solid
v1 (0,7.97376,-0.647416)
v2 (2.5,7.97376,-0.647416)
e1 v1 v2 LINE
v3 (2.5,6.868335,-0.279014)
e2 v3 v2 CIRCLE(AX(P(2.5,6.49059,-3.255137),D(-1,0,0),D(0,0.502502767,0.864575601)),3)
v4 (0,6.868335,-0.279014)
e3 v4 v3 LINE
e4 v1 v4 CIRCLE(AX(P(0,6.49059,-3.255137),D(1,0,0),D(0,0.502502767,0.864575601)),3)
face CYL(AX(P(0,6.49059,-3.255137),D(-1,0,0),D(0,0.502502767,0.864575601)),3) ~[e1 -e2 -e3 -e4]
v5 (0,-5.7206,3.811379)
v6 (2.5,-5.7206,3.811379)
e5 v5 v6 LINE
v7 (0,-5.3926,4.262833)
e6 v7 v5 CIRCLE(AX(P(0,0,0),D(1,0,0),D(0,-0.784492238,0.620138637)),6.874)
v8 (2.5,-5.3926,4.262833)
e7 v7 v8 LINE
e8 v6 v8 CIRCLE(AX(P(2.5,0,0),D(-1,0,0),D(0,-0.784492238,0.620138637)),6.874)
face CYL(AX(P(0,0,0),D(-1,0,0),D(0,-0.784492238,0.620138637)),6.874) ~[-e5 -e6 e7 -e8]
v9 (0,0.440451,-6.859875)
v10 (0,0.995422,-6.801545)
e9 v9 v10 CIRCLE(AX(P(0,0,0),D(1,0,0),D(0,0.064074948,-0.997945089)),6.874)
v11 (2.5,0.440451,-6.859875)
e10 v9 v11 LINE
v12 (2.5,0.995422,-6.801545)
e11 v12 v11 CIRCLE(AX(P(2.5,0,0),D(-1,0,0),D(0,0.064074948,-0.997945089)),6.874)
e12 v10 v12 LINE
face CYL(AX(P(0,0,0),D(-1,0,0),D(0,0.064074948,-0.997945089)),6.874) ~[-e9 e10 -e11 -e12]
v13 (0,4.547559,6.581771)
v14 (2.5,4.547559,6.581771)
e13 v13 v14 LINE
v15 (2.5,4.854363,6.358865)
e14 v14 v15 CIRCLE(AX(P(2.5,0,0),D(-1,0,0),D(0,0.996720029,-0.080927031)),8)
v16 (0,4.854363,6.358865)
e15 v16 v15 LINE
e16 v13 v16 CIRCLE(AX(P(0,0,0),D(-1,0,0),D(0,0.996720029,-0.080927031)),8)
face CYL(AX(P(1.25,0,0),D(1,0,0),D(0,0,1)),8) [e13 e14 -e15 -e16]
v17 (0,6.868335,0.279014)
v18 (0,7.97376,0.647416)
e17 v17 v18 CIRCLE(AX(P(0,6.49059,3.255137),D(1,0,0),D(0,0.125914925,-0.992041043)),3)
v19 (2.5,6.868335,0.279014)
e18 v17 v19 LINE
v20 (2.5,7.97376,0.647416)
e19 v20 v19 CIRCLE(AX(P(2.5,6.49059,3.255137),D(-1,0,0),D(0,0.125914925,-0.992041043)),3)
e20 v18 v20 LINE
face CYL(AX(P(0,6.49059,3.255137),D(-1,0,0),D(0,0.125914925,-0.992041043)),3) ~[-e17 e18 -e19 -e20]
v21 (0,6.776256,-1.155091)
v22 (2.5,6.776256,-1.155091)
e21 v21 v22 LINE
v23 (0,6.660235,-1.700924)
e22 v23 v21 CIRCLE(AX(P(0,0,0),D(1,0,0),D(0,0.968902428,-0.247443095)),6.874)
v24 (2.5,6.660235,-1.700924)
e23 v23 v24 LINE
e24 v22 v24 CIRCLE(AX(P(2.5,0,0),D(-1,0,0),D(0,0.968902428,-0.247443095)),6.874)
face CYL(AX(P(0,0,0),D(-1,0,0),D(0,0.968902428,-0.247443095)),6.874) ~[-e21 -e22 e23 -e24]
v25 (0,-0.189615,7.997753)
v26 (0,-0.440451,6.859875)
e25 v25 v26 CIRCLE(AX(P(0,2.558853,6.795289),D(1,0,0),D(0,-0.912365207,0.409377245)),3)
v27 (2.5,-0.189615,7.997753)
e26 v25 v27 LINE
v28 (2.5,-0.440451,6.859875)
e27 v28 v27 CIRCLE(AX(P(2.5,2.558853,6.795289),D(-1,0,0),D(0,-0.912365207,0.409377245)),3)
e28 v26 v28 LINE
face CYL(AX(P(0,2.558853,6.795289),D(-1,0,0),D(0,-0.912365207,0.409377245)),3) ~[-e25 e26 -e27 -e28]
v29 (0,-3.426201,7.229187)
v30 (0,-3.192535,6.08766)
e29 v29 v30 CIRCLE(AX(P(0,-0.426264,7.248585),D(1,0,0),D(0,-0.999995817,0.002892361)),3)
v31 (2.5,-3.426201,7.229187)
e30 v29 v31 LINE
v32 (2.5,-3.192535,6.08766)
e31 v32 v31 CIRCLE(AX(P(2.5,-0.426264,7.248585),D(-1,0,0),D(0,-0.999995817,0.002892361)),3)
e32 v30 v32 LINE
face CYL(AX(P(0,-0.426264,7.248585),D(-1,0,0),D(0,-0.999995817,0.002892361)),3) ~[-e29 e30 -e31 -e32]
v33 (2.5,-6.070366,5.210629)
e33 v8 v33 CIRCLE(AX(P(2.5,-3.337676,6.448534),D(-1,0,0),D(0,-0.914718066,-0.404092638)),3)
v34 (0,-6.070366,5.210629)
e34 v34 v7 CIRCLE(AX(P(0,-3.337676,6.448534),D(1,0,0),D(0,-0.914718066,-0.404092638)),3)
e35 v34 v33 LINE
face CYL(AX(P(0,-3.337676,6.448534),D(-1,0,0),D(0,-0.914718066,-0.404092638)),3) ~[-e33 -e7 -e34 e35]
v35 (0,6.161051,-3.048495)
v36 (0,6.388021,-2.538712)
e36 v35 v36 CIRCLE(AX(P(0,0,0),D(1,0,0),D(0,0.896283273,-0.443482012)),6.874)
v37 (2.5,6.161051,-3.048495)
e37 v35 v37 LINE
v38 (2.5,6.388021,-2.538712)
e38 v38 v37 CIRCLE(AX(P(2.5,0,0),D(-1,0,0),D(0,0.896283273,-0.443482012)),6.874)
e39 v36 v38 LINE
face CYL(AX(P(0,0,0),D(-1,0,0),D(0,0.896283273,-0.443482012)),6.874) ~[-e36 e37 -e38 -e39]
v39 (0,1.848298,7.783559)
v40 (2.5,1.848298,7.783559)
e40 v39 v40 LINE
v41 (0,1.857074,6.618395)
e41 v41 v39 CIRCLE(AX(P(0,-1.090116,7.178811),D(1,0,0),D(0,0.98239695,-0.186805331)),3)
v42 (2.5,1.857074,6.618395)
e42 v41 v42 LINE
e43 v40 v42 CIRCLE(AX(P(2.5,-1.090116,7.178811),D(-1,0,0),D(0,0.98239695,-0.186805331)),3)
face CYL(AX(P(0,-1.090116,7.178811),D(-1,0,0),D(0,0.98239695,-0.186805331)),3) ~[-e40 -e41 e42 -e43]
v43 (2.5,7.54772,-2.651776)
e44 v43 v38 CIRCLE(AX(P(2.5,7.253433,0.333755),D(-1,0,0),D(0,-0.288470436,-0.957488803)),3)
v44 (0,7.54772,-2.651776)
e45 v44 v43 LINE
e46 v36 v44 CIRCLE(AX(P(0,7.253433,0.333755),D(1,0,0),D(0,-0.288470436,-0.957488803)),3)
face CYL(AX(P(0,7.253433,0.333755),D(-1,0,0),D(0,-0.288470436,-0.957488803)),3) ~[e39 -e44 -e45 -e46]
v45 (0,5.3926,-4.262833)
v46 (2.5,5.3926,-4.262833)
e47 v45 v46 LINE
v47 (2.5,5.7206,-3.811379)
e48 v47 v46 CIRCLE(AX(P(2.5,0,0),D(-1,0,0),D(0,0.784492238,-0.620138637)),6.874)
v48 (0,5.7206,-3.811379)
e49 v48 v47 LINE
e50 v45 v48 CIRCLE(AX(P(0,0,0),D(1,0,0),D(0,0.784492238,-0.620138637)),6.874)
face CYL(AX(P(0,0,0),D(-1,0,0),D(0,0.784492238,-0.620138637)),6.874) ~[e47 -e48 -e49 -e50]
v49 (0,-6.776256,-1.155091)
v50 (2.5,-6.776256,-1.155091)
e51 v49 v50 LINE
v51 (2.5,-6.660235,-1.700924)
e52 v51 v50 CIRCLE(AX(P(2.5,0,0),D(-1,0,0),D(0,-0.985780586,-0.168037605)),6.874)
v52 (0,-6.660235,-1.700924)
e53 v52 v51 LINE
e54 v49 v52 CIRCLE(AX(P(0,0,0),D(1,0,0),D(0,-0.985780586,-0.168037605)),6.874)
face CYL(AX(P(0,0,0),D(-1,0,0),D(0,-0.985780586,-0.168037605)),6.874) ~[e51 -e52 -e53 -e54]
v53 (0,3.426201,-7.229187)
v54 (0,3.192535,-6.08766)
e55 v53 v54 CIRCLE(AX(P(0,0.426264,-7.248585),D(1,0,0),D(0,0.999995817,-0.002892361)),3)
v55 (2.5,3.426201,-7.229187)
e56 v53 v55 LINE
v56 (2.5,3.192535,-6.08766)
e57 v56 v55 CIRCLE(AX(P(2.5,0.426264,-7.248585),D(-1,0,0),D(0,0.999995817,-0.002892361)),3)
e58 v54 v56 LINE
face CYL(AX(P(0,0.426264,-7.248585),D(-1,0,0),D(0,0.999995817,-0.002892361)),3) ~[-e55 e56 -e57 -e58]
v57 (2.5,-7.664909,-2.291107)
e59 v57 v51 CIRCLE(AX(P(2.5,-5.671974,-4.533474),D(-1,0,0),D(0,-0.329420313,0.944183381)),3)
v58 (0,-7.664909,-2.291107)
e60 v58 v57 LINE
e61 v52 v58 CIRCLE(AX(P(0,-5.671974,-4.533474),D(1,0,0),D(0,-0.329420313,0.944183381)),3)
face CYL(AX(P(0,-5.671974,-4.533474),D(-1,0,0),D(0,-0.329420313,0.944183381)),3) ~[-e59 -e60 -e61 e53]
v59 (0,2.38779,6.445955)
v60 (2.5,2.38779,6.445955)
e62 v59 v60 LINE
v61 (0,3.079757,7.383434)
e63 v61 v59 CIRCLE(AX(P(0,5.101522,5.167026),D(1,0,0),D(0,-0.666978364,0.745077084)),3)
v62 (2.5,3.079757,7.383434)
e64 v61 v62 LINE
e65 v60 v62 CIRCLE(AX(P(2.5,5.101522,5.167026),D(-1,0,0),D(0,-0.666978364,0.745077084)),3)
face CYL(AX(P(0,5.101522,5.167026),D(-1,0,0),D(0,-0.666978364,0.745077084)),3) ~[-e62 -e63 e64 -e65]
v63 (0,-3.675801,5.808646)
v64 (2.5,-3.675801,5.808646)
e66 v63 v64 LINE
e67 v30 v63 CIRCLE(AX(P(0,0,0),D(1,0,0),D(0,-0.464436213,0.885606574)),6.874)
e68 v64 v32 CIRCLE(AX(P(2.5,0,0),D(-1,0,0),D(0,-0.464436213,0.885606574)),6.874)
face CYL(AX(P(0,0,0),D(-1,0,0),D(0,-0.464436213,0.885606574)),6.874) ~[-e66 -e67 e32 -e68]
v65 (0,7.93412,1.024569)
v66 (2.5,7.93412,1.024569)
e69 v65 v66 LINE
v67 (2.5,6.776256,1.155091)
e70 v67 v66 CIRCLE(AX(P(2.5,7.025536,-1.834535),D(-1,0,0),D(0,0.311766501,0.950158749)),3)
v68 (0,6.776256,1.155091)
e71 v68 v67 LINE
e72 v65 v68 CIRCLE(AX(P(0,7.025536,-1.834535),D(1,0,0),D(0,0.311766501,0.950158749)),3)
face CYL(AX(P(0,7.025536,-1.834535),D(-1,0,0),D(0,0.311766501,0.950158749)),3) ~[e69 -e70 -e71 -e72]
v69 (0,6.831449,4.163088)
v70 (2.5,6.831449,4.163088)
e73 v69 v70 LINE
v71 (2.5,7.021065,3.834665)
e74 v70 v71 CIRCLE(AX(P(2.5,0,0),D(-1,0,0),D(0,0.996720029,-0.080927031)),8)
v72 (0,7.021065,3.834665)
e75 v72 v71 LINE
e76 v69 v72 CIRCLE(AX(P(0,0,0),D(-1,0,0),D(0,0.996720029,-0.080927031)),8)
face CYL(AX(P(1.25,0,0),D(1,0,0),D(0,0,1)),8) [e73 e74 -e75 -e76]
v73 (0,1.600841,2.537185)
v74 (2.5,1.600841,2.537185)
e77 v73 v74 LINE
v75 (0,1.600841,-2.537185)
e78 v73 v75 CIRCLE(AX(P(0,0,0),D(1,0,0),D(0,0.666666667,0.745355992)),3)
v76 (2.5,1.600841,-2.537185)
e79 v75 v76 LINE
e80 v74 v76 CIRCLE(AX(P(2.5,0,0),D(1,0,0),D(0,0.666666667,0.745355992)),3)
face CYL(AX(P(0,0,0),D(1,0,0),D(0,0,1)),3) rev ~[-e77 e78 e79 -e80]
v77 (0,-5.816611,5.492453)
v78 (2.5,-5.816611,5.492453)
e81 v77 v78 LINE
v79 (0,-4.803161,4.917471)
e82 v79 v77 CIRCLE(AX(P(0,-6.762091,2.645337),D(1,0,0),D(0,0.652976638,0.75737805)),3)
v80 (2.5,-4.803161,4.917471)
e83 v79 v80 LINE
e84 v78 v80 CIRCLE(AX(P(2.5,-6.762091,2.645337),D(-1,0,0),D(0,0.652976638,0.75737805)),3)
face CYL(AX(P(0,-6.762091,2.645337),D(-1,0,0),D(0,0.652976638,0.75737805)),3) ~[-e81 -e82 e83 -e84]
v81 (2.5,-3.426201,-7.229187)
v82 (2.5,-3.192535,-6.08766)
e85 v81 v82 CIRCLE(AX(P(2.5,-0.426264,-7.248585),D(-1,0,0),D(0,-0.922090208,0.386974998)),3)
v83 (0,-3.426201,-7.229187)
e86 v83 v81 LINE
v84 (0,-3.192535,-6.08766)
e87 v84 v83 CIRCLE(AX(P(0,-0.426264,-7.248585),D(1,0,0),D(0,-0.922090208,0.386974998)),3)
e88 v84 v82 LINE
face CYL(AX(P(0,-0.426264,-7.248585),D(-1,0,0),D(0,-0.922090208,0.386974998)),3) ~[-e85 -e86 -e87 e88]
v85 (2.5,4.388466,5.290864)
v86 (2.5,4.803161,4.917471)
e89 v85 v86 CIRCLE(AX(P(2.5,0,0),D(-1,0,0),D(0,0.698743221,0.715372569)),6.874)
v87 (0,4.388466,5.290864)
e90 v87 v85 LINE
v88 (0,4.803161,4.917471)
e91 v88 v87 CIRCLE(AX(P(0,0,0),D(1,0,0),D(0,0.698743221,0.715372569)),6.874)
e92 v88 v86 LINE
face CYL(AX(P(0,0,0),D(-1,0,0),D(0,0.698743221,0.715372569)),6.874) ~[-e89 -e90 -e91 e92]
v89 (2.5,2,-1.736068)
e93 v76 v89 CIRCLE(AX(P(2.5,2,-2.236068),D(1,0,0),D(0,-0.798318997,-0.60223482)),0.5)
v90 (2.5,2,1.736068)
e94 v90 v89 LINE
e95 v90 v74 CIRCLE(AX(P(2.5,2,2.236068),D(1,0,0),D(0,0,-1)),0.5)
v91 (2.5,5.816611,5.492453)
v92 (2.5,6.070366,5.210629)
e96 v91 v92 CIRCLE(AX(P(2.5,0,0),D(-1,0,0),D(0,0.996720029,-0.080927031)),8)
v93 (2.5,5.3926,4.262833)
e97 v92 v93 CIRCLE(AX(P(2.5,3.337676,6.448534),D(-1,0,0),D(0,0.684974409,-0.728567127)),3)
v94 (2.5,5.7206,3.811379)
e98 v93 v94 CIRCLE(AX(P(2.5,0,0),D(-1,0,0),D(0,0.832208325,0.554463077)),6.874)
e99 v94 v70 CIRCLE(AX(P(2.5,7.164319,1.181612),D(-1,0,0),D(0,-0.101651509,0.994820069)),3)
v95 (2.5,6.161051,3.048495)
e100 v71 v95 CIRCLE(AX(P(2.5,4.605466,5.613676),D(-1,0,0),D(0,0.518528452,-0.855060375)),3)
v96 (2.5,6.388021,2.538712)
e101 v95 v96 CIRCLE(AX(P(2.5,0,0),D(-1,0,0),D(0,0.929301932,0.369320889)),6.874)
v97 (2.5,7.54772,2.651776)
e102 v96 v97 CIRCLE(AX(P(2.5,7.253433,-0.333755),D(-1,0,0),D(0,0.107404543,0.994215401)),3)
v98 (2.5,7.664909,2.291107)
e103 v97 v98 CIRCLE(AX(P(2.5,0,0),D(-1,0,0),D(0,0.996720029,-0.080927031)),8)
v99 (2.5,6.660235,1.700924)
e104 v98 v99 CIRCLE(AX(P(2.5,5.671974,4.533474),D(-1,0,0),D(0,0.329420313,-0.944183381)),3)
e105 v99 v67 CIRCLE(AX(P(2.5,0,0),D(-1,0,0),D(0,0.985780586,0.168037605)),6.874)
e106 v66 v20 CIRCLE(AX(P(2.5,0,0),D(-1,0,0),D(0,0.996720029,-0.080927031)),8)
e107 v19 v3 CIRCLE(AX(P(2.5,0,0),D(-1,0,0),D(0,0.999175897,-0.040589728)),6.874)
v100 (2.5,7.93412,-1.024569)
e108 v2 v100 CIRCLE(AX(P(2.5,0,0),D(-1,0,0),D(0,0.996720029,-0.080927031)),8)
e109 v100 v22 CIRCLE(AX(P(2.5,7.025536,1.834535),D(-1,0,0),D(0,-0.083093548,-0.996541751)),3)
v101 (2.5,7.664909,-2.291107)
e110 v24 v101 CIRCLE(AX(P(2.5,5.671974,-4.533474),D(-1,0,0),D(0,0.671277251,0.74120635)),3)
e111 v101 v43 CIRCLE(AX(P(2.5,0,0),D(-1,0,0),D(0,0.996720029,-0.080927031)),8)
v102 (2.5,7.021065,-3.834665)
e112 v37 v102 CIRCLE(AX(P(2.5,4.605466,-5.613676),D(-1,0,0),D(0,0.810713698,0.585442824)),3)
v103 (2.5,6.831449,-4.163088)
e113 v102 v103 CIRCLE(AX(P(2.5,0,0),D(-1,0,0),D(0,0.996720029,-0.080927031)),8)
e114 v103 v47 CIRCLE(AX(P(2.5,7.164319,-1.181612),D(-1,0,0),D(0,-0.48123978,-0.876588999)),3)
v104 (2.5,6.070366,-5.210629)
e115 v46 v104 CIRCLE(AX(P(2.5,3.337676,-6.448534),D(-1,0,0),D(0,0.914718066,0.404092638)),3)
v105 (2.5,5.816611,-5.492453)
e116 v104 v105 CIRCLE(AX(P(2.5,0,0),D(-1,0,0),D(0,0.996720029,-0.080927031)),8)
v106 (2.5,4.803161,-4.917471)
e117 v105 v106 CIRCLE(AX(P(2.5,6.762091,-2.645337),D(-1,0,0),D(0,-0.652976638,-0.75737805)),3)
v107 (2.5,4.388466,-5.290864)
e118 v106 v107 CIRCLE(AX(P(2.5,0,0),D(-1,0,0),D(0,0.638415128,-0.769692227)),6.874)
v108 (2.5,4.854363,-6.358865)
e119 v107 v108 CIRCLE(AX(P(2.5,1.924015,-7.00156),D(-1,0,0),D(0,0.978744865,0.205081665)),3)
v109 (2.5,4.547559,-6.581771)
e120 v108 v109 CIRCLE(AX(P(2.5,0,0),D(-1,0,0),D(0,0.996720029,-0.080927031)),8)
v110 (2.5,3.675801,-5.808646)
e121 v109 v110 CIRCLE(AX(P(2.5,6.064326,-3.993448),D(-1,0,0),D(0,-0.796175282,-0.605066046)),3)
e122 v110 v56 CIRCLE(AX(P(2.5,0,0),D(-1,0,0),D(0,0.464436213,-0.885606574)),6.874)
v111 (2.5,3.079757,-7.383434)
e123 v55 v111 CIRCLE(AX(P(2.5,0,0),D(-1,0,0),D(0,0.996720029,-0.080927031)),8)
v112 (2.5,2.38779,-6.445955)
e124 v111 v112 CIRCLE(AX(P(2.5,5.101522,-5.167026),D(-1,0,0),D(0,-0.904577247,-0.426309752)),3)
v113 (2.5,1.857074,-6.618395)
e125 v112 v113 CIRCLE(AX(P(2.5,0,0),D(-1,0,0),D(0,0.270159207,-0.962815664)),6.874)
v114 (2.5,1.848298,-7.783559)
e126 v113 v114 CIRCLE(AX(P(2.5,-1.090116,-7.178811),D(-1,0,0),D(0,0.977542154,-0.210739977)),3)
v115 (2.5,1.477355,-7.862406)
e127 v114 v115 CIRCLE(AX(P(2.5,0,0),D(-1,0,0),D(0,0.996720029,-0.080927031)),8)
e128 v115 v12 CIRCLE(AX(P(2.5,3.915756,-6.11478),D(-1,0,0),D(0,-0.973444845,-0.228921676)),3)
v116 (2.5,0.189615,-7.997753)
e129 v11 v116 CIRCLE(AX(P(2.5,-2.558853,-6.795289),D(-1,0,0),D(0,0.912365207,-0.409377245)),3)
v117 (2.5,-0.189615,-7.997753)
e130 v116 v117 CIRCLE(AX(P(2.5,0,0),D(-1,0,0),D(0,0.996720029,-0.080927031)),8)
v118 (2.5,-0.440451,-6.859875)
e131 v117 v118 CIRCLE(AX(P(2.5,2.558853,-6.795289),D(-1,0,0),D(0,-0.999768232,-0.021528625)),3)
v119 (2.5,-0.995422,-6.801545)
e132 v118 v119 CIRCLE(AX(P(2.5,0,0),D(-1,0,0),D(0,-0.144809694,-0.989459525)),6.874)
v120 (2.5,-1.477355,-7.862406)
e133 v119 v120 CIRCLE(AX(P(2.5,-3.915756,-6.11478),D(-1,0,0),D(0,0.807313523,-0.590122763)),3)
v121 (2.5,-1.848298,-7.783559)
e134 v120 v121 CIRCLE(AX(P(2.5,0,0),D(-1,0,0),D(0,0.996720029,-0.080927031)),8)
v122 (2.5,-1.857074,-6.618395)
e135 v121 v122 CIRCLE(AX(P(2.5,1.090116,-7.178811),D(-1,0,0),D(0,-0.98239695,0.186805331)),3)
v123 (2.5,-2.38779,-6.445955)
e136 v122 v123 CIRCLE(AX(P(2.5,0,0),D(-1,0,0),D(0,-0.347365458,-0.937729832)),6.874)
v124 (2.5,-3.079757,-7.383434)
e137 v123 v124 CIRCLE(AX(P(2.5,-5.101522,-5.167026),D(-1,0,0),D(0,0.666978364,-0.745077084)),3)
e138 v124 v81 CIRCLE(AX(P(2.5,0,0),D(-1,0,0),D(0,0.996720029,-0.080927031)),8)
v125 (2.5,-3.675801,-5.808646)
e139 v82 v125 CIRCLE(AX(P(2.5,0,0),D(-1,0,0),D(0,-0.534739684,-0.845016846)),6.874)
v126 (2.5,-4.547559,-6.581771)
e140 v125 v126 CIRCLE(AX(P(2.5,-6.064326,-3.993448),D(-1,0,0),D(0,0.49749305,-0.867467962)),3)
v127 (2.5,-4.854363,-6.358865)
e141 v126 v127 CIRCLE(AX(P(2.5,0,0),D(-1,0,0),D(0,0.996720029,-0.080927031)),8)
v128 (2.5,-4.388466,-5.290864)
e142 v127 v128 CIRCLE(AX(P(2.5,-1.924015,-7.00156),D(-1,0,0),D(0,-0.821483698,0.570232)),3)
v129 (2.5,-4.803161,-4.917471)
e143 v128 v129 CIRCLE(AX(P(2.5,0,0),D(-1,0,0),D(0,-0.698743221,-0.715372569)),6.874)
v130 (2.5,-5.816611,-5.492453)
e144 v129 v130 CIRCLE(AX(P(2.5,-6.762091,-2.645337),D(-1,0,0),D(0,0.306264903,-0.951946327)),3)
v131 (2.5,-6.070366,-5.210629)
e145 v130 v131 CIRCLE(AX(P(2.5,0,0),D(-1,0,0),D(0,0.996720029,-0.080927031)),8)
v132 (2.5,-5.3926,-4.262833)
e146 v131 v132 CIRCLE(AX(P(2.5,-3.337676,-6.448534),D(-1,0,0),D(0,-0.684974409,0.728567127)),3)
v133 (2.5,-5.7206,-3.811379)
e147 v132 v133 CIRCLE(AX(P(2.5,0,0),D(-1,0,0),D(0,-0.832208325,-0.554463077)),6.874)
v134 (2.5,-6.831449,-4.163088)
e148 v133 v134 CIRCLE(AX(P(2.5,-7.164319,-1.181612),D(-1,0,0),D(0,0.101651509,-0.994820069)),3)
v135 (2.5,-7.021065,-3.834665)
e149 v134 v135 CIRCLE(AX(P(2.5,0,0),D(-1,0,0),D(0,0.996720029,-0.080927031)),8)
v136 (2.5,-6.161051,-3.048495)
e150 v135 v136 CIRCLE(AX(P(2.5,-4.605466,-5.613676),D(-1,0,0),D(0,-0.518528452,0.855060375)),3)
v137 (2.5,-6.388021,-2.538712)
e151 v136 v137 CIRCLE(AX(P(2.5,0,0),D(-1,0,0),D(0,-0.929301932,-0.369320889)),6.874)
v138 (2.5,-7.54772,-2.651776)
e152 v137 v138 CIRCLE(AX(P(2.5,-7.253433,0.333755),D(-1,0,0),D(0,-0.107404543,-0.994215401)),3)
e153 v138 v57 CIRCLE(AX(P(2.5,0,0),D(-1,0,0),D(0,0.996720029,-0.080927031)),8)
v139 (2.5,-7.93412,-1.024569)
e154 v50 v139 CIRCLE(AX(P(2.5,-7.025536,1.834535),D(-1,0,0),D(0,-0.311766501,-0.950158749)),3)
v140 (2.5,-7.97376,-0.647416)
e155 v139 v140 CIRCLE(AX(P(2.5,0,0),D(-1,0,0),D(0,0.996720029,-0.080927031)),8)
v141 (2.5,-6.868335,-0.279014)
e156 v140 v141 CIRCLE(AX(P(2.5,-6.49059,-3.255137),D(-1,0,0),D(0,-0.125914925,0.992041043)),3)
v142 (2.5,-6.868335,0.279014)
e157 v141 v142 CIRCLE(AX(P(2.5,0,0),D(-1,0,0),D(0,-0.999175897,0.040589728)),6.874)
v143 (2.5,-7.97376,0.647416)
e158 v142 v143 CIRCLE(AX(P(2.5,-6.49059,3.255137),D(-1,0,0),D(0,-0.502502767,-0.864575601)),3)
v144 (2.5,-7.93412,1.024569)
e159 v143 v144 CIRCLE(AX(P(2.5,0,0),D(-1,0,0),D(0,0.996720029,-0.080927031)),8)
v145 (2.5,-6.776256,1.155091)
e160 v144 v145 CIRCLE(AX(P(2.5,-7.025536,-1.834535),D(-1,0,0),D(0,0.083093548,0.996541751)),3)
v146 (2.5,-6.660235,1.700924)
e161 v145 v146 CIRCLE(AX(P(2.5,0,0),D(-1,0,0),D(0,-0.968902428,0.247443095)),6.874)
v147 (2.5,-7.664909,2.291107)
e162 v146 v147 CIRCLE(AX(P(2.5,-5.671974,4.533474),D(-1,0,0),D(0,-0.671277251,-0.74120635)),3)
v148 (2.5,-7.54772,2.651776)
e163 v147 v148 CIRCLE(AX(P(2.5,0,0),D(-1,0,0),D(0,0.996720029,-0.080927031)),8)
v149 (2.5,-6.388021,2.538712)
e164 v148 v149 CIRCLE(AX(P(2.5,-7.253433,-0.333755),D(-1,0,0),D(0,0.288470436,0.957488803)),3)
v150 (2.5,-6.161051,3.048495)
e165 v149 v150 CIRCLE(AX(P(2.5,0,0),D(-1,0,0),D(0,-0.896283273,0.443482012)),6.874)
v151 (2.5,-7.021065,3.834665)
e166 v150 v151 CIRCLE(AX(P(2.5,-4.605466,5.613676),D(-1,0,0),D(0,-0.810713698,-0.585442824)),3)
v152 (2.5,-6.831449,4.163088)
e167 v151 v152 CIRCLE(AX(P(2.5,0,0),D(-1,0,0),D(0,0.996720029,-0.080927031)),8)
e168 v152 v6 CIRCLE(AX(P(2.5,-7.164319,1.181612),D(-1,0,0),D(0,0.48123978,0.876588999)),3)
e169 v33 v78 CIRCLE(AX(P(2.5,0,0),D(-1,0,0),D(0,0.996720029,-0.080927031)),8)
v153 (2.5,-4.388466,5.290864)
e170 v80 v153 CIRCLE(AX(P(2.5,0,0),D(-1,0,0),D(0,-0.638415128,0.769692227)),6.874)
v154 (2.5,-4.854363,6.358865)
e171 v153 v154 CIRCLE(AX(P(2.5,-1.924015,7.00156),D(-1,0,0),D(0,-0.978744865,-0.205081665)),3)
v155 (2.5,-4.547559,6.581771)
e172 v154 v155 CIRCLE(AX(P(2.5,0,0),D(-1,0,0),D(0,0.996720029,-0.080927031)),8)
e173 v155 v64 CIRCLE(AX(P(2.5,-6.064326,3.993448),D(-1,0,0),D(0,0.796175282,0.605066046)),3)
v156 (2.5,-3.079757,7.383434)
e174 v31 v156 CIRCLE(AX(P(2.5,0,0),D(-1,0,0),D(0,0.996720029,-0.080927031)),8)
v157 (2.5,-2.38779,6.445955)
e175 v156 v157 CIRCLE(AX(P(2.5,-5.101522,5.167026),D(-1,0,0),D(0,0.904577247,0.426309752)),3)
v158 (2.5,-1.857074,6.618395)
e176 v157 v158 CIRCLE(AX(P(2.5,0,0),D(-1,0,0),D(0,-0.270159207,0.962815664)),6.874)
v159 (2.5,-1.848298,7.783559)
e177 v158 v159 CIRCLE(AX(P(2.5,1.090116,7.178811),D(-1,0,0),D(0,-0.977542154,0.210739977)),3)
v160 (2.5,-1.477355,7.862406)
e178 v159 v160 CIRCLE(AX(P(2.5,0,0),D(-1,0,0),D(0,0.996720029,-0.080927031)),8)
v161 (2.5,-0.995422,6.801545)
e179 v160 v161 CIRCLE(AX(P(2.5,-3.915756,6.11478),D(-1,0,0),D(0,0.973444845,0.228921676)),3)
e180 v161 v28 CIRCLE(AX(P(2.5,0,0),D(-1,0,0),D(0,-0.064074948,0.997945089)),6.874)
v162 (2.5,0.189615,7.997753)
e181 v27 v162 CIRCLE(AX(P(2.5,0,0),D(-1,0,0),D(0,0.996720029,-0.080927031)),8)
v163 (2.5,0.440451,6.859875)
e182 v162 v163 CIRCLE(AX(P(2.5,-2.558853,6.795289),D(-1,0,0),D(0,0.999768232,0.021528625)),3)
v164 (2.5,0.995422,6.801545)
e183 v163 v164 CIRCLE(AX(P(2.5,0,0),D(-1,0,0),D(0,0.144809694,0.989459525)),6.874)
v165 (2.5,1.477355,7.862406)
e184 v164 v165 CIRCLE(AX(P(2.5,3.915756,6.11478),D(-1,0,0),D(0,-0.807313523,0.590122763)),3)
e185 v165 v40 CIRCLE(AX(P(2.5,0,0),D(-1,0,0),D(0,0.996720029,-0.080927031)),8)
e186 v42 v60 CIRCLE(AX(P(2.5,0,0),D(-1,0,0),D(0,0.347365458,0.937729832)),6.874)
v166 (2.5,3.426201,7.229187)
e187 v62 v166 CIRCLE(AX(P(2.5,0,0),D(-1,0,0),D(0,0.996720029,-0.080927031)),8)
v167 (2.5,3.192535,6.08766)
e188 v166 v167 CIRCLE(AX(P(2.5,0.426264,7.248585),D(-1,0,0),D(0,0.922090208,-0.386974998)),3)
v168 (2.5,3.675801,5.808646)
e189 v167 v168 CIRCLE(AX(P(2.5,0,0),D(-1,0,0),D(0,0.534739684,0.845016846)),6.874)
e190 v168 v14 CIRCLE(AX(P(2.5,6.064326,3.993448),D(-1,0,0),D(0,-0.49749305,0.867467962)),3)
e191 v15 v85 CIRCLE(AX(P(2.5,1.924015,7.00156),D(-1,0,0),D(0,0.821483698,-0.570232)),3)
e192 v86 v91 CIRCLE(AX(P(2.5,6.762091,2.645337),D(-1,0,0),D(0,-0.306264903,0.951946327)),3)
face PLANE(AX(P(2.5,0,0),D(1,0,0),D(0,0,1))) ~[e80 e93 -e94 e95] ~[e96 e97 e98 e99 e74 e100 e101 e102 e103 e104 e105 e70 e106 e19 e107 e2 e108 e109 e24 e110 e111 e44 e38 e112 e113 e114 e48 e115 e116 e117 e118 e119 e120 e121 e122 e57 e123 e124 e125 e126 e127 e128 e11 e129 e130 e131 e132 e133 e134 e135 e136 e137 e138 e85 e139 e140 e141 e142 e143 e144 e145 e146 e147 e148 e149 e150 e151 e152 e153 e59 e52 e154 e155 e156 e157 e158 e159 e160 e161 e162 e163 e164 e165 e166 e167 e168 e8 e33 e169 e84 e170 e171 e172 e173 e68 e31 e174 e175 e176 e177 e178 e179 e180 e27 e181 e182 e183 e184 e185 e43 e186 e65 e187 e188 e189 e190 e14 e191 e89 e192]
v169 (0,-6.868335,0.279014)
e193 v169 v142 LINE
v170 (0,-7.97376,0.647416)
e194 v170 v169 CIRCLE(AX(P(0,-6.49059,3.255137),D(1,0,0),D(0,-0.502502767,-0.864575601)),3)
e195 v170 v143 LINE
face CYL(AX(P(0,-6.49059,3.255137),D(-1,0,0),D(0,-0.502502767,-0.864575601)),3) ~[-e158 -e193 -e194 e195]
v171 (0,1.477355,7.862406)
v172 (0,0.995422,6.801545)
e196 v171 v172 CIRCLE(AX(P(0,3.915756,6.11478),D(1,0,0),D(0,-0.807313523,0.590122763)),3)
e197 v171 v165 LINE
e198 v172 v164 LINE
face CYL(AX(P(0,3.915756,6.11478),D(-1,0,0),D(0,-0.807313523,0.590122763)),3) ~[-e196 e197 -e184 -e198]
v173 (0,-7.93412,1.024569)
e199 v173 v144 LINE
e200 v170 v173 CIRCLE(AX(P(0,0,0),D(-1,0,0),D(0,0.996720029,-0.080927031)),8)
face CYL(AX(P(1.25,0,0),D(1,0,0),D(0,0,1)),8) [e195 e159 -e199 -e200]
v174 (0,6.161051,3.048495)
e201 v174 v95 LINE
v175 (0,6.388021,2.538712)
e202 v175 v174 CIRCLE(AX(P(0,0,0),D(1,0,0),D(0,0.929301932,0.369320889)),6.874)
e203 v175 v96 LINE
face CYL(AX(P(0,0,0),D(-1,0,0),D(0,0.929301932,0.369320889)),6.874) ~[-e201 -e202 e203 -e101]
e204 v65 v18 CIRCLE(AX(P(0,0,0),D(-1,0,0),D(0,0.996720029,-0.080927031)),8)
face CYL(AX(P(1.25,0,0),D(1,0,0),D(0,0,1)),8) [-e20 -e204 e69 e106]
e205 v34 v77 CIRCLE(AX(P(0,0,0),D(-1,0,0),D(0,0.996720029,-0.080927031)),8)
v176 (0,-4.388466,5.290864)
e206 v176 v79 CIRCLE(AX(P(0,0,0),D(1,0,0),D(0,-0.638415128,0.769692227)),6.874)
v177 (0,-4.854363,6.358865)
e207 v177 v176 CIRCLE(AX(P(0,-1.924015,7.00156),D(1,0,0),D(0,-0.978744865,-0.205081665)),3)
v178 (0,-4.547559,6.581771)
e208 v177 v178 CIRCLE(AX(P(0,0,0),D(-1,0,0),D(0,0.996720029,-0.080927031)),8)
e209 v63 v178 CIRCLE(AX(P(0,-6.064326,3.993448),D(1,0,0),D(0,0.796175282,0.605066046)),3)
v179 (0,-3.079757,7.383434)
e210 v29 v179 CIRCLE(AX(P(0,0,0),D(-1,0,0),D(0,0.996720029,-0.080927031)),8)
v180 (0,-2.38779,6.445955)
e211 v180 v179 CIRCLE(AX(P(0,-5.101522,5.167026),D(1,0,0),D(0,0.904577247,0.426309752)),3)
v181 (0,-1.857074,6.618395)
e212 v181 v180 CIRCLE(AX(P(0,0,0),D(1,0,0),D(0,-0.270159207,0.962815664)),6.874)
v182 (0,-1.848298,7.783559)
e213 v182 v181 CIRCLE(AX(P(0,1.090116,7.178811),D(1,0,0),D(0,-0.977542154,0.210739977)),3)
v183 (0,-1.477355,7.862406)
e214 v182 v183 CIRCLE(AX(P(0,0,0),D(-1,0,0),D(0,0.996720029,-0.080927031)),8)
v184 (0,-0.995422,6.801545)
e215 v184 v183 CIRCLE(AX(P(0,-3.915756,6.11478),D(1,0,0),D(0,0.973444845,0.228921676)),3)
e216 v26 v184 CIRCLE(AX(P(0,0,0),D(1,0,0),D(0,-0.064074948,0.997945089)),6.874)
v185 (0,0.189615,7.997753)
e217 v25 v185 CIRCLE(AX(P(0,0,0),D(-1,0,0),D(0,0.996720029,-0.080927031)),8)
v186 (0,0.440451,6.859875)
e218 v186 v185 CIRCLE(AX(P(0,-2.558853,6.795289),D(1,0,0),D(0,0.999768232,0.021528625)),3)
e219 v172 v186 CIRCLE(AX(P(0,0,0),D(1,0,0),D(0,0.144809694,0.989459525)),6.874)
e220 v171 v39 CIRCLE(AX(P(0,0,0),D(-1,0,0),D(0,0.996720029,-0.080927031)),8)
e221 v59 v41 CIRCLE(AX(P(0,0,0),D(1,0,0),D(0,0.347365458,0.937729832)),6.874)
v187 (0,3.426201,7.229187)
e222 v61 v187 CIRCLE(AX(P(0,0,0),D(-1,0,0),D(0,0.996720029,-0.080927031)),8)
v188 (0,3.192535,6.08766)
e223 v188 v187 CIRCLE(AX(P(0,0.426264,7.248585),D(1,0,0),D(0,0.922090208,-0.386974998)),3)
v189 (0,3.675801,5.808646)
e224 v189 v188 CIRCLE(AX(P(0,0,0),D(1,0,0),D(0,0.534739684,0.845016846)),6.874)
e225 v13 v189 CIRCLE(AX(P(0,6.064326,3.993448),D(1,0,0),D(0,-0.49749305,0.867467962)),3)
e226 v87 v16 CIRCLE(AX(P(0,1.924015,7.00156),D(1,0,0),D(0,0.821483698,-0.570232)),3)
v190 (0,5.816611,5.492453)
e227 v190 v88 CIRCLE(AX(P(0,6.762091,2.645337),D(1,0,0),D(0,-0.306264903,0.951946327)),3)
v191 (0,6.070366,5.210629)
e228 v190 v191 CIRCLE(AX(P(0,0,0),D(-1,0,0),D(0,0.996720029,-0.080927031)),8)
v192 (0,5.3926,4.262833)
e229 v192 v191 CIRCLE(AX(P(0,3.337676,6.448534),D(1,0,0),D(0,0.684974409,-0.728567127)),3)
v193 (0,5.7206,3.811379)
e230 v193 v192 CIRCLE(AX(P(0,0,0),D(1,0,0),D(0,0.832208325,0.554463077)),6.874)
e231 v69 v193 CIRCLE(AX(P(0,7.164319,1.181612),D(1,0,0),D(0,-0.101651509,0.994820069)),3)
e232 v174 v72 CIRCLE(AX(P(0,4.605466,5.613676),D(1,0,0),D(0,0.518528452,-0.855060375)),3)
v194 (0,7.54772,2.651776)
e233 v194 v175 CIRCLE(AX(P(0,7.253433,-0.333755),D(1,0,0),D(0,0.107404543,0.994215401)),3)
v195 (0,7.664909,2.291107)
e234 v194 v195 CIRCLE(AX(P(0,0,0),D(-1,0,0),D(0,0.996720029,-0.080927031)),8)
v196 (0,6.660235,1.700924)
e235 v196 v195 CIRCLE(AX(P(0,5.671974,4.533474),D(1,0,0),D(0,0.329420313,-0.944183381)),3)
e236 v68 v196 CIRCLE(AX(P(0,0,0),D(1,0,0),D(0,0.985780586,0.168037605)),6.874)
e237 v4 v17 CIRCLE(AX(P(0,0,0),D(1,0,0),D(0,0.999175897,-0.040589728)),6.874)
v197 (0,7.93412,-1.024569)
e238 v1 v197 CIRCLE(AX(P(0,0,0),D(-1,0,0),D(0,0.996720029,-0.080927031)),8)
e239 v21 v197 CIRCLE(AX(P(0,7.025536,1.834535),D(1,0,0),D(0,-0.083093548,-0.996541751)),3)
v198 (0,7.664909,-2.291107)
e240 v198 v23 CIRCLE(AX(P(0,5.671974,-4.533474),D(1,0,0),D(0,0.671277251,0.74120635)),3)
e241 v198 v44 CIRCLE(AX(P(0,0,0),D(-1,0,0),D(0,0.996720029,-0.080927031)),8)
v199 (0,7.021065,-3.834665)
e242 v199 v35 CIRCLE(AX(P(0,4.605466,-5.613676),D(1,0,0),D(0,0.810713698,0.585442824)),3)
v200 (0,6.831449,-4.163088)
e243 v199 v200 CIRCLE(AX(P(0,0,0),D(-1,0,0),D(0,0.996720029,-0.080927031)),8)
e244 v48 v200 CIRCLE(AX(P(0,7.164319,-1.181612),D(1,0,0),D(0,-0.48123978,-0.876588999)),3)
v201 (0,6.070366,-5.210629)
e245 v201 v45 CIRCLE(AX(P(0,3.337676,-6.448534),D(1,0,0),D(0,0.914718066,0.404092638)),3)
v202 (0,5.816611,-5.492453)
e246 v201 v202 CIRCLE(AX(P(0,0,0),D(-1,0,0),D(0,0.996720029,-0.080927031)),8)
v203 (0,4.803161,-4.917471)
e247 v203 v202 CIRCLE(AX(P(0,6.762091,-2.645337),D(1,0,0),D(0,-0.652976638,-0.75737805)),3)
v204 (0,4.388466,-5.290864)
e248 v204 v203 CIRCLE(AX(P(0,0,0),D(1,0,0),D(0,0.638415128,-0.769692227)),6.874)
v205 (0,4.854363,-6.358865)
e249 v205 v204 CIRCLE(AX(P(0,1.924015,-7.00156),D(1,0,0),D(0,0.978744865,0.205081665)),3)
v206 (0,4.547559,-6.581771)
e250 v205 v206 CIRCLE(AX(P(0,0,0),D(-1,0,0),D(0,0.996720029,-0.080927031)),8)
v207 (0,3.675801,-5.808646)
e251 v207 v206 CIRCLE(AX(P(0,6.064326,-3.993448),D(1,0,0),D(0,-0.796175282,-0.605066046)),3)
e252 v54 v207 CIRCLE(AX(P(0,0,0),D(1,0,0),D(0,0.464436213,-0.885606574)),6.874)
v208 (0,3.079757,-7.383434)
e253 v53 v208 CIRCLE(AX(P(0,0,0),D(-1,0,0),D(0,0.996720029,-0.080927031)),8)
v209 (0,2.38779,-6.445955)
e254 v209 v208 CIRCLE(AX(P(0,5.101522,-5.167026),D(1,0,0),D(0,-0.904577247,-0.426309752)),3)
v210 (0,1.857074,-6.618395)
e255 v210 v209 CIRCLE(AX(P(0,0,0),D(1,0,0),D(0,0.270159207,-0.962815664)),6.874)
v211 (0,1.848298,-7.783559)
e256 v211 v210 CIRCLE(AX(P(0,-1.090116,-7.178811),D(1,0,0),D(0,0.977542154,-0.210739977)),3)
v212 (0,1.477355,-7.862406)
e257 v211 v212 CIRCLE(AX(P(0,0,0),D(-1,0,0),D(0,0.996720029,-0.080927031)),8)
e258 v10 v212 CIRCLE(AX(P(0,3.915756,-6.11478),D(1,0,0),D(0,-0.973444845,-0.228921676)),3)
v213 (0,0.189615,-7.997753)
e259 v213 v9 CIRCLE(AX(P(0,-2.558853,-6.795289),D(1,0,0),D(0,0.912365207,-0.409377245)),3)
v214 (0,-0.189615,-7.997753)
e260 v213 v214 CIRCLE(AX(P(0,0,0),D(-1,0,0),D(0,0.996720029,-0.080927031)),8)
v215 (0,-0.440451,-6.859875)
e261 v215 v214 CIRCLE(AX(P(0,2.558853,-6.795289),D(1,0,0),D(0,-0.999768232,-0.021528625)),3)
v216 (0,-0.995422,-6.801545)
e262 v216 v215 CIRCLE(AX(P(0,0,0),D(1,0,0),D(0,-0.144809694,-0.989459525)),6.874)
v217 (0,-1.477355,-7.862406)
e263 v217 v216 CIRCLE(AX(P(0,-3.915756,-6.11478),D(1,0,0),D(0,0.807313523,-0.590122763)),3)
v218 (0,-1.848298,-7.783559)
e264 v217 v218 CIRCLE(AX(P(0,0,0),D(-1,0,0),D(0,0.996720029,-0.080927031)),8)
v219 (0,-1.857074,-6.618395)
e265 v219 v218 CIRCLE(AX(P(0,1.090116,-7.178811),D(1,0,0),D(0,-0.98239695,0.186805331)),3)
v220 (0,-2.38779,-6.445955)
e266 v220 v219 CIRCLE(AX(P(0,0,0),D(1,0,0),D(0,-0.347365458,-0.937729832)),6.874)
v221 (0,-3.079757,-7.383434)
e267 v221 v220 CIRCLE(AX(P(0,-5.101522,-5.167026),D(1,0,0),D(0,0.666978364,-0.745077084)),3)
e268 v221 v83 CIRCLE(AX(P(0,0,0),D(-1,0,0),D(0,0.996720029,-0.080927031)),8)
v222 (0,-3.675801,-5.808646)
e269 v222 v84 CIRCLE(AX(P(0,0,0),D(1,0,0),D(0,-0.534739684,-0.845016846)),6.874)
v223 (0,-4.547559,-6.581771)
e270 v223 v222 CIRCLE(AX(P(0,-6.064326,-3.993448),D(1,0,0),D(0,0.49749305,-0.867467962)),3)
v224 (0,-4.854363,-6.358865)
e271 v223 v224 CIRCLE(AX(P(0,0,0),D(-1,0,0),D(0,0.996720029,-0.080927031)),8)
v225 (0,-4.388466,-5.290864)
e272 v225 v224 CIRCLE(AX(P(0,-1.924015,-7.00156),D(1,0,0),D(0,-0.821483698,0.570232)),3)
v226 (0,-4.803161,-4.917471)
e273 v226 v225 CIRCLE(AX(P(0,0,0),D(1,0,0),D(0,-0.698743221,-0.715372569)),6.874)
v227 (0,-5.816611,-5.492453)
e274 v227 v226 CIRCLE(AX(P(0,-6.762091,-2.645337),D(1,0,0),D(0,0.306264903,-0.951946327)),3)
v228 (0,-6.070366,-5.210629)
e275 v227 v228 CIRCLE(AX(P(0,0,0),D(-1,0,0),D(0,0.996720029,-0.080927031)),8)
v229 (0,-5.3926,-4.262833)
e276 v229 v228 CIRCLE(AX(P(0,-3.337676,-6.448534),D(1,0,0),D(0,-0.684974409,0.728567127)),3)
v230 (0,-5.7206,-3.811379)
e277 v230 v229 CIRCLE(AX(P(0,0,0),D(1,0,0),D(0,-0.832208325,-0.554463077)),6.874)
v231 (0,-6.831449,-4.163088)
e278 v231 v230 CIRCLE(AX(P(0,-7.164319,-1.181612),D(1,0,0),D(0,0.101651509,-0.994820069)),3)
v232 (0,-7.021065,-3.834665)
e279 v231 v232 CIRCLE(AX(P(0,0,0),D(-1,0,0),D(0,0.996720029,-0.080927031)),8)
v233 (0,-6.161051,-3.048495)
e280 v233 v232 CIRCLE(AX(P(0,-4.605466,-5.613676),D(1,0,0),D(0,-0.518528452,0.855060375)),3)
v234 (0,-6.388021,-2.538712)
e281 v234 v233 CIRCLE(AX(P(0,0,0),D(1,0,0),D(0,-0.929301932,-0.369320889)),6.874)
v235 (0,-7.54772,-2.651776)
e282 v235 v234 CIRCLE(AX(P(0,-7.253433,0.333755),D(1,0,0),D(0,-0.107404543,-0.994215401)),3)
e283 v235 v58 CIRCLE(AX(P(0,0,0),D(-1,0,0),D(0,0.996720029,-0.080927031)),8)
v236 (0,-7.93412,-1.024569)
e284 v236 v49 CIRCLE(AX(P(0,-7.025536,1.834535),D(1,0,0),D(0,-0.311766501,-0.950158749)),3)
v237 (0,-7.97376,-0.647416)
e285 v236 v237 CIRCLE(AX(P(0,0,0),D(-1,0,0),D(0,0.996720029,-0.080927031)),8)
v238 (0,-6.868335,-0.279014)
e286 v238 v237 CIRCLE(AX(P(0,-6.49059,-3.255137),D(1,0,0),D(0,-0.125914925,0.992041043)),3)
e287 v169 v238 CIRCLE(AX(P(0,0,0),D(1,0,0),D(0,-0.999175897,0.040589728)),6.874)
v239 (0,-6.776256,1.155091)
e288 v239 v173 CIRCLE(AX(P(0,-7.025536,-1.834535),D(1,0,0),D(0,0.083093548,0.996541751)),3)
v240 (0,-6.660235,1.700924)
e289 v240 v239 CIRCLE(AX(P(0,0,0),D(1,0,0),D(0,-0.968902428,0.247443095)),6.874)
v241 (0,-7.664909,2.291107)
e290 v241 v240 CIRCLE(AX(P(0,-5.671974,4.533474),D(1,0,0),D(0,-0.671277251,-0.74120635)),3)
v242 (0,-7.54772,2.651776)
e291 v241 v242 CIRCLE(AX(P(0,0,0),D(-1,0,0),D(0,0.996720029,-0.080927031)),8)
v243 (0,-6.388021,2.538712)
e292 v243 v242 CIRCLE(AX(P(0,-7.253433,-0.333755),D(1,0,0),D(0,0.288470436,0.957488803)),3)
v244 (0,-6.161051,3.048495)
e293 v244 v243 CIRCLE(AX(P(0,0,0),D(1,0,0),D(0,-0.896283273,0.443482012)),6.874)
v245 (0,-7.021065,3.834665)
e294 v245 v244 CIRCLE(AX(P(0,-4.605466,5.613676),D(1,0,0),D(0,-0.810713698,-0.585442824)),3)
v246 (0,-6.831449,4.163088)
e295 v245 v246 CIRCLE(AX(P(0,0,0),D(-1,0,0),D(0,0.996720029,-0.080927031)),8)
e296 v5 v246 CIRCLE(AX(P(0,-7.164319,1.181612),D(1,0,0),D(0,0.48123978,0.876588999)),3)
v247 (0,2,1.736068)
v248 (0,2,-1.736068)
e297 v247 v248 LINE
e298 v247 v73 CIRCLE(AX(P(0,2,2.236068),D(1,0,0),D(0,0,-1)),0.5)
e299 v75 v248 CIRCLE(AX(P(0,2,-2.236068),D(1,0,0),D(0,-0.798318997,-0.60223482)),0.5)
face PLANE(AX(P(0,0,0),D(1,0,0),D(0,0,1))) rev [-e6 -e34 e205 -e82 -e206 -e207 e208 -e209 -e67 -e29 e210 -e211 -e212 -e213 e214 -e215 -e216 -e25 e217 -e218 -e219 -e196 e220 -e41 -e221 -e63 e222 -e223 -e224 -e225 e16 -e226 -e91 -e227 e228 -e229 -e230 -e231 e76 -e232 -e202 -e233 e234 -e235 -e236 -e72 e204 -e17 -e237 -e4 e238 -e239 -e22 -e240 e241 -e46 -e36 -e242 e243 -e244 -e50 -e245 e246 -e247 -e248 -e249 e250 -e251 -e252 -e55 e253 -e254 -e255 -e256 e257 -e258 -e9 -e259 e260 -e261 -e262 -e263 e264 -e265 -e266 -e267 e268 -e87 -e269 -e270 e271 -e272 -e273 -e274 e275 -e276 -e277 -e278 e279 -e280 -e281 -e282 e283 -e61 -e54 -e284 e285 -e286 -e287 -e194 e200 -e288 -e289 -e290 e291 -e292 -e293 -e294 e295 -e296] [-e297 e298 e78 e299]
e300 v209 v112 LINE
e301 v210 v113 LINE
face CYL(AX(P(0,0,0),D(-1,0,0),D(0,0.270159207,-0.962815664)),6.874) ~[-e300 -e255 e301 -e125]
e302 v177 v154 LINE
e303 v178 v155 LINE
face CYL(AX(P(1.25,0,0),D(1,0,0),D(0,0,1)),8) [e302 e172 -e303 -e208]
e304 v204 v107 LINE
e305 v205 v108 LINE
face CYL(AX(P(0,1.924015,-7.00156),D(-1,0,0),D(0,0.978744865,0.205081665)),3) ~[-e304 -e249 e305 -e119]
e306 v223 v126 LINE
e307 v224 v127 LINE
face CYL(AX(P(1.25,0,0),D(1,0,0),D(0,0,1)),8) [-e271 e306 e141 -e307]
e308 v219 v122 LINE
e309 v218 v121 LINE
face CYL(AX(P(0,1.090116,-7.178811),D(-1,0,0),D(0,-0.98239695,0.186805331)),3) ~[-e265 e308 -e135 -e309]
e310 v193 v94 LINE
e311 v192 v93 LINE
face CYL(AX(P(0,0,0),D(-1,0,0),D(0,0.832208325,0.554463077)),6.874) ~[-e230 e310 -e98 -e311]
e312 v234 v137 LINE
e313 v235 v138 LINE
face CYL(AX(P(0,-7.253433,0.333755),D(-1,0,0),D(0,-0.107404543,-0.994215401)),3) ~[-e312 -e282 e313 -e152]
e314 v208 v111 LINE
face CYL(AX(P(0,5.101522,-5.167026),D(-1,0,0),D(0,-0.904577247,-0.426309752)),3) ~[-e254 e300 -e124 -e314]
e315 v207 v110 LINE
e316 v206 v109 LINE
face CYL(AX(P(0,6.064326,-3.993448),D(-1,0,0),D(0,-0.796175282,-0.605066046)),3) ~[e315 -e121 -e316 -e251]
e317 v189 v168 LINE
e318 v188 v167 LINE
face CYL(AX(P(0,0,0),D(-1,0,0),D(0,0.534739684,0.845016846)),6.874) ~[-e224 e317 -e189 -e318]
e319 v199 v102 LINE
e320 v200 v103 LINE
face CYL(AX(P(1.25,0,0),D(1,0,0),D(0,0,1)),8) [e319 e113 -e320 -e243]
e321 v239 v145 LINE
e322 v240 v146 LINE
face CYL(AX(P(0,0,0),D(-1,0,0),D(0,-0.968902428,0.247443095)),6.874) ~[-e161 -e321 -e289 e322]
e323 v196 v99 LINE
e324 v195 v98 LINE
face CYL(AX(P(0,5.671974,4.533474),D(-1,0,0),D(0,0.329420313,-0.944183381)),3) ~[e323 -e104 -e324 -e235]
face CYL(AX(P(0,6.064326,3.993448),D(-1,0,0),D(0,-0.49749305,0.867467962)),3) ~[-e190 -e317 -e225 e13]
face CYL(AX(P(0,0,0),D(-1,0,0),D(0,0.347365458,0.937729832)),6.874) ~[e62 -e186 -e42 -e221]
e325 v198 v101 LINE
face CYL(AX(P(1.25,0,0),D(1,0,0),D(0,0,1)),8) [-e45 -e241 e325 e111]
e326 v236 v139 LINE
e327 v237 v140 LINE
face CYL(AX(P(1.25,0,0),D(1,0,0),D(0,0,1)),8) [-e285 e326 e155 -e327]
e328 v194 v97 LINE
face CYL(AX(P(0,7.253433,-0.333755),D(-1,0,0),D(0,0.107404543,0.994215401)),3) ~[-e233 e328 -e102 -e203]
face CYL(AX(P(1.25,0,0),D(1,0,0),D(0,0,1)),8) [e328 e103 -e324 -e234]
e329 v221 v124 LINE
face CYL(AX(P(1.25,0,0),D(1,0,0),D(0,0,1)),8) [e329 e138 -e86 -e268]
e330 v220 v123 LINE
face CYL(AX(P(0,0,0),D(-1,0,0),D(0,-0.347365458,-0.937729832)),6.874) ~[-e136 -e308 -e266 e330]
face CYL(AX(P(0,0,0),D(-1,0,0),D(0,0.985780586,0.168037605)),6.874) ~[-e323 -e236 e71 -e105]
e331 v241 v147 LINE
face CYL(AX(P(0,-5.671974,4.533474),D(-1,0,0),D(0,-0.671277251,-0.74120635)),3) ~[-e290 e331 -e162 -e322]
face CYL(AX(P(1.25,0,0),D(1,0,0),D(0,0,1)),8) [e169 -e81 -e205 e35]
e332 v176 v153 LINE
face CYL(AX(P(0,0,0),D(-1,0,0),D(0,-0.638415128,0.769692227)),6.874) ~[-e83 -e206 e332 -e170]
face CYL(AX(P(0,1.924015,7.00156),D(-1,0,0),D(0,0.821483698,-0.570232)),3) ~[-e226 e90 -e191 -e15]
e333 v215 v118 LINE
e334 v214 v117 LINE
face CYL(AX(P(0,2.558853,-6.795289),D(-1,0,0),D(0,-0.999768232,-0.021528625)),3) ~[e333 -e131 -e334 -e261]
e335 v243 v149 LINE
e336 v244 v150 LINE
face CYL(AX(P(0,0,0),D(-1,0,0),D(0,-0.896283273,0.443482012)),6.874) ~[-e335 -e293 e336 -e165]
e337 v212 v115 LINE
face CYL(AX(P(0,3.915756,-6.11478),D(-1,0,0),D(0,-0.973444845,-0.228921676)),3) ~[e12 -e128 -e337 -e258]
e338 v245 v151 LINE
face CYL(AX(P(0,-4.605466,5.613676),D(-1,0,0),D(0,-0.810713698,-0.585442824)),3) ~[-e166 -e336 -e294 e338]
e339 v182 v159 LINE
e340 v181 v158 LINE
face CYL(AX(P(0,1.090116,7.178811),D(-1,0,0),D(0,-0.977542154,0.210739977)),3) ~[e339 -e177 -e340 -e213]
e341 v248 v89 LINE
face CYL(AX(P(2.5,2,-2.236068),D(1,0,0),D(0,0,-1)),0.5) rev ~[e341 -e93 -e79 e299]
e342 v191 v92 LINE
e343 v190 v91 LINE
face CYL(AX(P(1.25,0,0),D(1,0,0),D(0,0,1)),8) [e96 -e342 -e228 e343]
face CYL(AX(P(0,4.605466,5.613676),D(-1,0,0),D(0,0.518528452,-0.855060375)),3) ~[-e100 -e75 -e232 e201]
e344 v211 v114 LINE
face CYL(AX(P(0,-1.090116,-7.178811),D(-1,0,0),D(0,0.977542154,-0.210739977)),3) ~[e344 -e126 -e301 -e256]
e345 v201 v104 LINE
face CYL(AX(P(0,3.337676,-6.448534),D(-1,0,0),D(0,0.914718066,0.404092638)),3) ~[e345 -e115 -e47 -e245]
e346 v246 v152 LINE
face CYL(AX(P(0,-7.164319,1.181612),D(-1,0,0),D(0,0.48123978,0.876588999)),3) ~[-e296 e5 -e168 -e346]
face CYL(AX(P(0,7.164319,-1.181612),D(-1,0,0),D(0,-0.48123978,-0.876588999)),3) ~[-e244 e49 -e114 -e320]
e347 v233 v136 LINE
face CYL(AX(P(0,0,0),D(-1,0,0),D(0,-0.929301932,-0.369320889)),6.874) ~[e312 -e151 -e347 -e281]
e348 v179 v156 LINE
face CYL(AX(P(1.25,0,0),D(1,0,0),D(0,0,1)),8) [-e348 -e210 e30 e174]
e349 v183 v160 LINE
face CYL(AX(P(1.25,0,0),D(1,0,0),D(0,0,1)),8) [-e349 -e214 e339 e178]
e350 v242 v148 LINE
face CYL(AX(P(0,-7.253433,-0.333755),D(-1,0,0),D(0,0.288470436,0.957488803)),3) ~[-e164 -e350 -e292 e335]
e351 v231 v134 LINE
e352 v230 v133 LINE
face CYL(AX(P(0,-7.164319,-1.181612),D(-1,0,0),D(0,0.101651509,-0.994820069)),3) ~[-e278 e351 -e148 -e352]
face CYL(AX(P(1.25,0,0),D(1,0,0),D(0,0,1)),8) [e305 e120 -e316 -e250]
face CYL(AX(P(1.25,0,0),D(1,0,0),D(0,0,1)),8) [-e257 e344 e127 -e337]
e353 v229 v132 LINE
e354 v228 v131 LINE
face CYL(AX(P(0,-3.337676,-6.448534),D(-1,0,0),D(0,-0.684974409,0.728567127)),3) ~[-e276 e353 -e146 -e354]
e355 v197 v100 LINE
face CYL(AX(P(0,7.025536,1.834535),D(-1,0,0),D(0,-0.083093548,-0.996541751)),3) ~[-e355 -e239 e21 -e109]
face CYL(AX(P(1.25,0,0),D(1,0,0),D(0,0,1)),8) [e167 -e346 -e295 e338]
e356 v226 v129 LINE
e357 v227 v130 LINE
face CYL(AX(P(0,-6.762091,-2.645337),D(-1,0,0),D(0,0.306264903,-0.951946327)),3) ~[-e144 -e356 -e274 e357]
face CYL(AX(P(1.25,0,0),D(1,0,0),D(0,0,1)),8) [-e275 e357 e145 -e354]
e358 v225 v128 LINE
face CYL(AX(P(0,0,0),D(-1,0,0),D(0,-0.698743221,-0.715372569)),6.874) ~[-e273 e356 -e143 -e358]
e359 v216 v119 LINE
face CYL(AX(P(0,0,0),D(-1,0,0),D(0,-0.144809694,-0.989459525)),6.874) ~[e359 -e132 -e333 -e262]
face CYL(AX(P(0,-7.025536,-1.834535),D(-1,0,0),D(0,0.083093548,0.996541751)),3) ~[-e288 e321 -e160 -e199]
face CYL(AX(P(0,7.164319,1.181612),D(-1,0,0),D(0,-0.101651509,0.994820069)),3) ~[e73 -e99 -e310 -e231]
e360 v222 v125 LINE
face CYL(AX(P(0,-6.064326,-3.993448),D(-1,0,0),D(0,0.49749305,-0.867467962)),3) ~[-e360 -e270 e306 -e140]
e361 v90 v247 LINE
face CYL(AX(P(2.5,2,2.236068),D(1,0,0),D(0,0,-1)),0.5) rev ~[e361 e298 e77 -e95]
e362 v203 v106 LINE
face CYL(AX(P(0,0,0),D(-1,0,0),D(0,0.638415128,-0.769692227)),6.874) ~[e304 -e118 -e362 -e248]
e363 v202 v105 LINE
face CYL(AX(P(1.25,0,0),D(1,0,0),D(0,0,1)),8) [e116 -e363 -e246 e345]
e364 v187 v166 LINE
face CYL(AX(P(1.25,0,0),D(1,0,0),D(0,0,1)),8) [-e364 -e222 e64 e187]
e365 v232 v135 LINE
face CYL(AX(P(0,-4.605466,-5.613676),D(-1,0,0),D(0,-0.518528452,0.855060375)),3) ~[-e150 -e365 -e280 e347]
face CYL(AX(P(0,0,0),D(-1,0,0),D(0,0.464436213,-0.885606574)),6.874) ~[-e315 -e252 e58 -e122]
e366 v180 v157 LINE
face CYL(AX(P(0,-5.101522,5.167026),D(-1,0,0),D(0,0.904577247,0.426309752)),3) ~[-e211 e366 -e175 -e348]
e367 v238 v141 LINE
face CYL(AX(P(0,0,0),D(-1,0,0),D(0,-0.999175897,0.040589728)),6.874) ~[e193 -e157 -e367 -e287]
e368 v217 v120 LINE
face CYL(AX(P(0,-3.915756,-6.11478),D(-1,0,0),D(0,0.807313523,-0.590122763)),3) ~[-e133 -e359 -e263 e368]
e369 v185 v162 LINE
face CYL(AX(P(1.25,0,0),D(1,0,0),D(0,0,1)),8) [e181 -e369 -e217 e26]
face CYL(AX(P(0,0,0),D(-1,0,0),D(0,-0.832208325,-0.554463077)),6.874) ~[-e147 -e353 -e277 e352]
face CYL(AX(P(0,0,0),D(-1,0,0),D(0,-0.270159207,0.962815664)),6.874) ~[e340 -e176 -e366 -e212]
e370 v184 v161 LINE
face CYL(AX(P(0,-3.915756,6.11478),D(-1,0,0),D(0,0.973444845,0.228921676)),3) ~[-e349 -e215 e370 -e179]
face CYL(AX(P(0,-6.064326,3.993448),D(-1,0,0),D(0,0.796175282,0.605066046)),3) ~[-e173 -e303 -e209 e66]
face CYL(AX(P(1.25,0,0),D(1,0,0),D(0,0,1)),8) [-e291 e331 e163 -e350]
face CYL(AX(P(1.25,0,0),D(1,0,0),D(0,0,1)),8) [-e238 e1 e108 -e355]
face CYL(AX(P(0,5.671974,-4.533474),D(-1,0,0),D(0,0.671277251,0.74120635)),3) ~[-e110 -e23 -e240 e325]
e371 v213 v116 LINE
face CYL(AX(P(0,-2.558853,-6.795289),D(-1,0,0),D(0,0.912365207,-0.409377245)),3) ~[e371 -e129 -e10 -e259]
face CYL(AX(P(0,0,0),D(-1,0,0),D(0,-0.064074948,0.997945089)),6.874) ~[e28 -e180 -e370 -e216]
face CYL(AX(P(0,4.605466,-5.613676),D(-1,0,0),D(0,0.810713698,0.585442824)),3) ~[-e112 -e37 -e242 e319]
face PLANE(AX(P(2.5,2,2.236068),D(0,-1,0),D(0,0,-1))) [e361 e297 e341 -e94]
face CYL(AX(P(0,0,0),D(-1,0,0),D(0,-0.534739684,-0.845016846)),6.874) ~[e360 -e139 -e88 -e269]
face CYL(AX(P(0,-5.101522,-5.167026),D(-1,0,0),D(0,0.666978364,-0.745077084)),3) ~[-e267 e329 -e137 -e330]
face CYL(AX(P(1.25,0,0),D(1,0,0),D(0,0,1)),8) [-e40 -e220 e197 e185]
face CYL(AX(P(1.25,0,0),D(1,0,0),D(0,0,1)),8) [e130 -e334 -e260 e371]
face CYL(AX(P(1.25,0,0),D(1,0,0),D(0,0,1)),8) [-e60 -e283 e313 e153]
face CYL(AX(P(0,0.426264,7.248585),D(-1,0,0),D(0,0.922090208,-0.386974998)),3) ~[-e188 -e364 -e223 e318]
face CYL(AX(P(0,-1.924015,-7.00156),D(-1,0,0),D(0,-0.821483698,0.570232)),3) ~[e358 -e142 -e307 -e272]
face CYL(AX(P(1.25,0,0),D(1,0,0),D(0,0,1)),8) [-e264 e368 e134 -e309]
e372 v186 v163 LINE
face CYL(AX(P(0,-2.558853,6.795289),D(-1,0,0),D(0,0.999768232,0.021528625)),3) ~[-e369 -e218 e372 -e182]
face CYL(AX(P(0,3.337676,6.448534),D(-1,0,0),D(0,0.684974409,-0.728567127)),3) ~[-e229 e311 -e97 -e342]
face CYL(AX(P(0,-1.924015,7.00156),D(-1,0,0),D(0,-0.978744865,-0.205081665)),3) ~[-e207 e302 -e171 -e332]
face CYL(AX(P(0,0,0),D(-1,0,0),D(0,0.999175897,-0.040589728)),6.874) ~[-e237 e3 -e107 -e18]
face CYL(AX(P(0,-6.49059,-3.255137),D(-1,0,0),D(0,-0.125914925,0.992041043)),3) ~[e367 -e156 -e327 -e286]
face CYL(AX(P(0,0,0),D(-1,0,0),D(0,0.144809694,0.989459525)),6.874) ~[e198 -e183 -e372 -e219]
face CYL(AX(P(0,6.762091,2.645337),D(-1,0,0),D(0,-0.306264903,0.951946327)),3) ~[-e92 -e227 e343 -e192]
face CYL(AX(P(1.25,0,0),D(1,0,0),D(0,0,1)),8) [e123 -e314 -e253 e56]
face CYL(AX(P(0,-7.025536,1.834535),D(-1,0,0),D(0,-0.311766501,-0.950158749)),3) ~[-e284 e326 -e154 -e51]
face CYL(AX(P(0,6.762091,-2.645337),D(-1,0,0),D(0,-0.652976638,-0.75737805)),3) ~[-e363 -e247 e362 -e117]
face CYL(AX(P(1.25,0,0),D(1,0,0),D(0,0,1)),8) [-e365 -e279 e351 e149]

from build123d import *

# Parameters (mm, degrees)
BASPROSKE_W         = 2.5
BASPROSKE_H         = 8
TOOTHCUT_DEPTH      = 12.586630226
TEETHCUTS_COUNT     = 30
TEETHCUTS_ANGLE     = 348
BORSKE_R            = 3
BORE_DEPTH          = 50.0000508
EXTRUDE_1_DEPTH     = 2.5
SKETCH_2_R          = 0.5
CUT_EXTRUDE_1_DEPTH = 12.568528524


with BuildPart() as part:
    # BasProSke → Base-Revolve (revolve)
    with BuildSketch(Plane(origin=(0, 0, 0), x_dir=(1, 0, 0), z_dir=(0, 1, 0)), mode=Mode.PRIVATE) as base_revolve_sk:
        with Locations((1.25, 4)):
            Rectangle(BASPROSKE_W, BASPROSKE_H)
    revolve(base_revolve_sk.sketch.rotate(Axis((-10, 0, 0), (1, 0, 0)), 180), axis=Axis((-10, 0, 0), (1, 0, 0)))

    # TooCutSke → ToothCut (cut, through all)
    with BuildSketch(Plane(origin=(0, 0, 0), x_dir=(0, 0, -1), z_dir=(1, 0, 0))):
        with BuildLine():
            ThreePointArc((0.279013782, 6.868335119), (0, 6.874), (-0.279013782, 6.868335119))
            ThreePointArc((-0.279013782, 6.868335119), (-0.413500328, 7.452412324), (-0.661410108, 7.998098638))
            ThreePointArc((-0.661410108, 7.998098638), (0, 8.0254), (0.661410108, 7.998098638))
            ThreePointArc((0.661410108, 7.998098638), (0.413500328, 7.452412324), (0.279013782, 6.868335119))
        make_face()
    toothcut = extrude(amount=TOOTHCUT_DEPTH, mode=Mode.SUBTRACT)

    # TeethCuts: ToothCut ×30 about axis
    teethcuts_axis = Axis((-10, 0, 0), (1, 0, 0))
    for i in range(1, TEETHCUTS_COUNT):
        add(toothcut.rotate(teethcuts_axis, i * TEETHCUTS_ANGLE / (TEETHCUTS_COUNT - 1)), mode=Mode.SUBTRACT)

    # BorSke → Bore (cut, symmetric)
    with BuildSketch(Plane(origin=(0, 0, 0), x_dir=(0, 0, -1), z_dir=(1, 0, 0))):
        with Locations(Location((0, 0, 0), (0, 0, 180))):
            Circle(BORSKE_R)
    extrude(amount=BORE_DEPTH, both=True, mode=Mode.SUBTRACT)

    # 草图1 → 凸台-拉伸1 (add, through all)
    with BuildSketch(Plane(origin=(2.5, 0, 0), x_dir=(0, 0, -1), z_dir=(1, 0, 0))):
        with BuildLine():
            Line((-2.236067977, 2), (2.236067977, 2))
            ThreePointArc((2.236067977, 2), (0, 3), (-2.236067977, 2))
        make_face()
    extrude(amount=-EXTRUDE_1_DEPTH)

    # 草图2 → 切除-拉伸1 (cut, through all)
    with BuildSketch(Plane(origin=(2.5, 0, 0), x_dir=(0, 0, -1), z_dir=(1, 0, 0))):
        with Locations((2.236067977, 2)):
            Circle(SKETCH_2_R)
        with Locations((-2.236067977, 2)):
            Circle(SKETCH_2_R)
    extrude(amount=-CUT_EXTRUDE_1_DEPTH, mode=Mode.SUBTRACT)


solid = part.part
